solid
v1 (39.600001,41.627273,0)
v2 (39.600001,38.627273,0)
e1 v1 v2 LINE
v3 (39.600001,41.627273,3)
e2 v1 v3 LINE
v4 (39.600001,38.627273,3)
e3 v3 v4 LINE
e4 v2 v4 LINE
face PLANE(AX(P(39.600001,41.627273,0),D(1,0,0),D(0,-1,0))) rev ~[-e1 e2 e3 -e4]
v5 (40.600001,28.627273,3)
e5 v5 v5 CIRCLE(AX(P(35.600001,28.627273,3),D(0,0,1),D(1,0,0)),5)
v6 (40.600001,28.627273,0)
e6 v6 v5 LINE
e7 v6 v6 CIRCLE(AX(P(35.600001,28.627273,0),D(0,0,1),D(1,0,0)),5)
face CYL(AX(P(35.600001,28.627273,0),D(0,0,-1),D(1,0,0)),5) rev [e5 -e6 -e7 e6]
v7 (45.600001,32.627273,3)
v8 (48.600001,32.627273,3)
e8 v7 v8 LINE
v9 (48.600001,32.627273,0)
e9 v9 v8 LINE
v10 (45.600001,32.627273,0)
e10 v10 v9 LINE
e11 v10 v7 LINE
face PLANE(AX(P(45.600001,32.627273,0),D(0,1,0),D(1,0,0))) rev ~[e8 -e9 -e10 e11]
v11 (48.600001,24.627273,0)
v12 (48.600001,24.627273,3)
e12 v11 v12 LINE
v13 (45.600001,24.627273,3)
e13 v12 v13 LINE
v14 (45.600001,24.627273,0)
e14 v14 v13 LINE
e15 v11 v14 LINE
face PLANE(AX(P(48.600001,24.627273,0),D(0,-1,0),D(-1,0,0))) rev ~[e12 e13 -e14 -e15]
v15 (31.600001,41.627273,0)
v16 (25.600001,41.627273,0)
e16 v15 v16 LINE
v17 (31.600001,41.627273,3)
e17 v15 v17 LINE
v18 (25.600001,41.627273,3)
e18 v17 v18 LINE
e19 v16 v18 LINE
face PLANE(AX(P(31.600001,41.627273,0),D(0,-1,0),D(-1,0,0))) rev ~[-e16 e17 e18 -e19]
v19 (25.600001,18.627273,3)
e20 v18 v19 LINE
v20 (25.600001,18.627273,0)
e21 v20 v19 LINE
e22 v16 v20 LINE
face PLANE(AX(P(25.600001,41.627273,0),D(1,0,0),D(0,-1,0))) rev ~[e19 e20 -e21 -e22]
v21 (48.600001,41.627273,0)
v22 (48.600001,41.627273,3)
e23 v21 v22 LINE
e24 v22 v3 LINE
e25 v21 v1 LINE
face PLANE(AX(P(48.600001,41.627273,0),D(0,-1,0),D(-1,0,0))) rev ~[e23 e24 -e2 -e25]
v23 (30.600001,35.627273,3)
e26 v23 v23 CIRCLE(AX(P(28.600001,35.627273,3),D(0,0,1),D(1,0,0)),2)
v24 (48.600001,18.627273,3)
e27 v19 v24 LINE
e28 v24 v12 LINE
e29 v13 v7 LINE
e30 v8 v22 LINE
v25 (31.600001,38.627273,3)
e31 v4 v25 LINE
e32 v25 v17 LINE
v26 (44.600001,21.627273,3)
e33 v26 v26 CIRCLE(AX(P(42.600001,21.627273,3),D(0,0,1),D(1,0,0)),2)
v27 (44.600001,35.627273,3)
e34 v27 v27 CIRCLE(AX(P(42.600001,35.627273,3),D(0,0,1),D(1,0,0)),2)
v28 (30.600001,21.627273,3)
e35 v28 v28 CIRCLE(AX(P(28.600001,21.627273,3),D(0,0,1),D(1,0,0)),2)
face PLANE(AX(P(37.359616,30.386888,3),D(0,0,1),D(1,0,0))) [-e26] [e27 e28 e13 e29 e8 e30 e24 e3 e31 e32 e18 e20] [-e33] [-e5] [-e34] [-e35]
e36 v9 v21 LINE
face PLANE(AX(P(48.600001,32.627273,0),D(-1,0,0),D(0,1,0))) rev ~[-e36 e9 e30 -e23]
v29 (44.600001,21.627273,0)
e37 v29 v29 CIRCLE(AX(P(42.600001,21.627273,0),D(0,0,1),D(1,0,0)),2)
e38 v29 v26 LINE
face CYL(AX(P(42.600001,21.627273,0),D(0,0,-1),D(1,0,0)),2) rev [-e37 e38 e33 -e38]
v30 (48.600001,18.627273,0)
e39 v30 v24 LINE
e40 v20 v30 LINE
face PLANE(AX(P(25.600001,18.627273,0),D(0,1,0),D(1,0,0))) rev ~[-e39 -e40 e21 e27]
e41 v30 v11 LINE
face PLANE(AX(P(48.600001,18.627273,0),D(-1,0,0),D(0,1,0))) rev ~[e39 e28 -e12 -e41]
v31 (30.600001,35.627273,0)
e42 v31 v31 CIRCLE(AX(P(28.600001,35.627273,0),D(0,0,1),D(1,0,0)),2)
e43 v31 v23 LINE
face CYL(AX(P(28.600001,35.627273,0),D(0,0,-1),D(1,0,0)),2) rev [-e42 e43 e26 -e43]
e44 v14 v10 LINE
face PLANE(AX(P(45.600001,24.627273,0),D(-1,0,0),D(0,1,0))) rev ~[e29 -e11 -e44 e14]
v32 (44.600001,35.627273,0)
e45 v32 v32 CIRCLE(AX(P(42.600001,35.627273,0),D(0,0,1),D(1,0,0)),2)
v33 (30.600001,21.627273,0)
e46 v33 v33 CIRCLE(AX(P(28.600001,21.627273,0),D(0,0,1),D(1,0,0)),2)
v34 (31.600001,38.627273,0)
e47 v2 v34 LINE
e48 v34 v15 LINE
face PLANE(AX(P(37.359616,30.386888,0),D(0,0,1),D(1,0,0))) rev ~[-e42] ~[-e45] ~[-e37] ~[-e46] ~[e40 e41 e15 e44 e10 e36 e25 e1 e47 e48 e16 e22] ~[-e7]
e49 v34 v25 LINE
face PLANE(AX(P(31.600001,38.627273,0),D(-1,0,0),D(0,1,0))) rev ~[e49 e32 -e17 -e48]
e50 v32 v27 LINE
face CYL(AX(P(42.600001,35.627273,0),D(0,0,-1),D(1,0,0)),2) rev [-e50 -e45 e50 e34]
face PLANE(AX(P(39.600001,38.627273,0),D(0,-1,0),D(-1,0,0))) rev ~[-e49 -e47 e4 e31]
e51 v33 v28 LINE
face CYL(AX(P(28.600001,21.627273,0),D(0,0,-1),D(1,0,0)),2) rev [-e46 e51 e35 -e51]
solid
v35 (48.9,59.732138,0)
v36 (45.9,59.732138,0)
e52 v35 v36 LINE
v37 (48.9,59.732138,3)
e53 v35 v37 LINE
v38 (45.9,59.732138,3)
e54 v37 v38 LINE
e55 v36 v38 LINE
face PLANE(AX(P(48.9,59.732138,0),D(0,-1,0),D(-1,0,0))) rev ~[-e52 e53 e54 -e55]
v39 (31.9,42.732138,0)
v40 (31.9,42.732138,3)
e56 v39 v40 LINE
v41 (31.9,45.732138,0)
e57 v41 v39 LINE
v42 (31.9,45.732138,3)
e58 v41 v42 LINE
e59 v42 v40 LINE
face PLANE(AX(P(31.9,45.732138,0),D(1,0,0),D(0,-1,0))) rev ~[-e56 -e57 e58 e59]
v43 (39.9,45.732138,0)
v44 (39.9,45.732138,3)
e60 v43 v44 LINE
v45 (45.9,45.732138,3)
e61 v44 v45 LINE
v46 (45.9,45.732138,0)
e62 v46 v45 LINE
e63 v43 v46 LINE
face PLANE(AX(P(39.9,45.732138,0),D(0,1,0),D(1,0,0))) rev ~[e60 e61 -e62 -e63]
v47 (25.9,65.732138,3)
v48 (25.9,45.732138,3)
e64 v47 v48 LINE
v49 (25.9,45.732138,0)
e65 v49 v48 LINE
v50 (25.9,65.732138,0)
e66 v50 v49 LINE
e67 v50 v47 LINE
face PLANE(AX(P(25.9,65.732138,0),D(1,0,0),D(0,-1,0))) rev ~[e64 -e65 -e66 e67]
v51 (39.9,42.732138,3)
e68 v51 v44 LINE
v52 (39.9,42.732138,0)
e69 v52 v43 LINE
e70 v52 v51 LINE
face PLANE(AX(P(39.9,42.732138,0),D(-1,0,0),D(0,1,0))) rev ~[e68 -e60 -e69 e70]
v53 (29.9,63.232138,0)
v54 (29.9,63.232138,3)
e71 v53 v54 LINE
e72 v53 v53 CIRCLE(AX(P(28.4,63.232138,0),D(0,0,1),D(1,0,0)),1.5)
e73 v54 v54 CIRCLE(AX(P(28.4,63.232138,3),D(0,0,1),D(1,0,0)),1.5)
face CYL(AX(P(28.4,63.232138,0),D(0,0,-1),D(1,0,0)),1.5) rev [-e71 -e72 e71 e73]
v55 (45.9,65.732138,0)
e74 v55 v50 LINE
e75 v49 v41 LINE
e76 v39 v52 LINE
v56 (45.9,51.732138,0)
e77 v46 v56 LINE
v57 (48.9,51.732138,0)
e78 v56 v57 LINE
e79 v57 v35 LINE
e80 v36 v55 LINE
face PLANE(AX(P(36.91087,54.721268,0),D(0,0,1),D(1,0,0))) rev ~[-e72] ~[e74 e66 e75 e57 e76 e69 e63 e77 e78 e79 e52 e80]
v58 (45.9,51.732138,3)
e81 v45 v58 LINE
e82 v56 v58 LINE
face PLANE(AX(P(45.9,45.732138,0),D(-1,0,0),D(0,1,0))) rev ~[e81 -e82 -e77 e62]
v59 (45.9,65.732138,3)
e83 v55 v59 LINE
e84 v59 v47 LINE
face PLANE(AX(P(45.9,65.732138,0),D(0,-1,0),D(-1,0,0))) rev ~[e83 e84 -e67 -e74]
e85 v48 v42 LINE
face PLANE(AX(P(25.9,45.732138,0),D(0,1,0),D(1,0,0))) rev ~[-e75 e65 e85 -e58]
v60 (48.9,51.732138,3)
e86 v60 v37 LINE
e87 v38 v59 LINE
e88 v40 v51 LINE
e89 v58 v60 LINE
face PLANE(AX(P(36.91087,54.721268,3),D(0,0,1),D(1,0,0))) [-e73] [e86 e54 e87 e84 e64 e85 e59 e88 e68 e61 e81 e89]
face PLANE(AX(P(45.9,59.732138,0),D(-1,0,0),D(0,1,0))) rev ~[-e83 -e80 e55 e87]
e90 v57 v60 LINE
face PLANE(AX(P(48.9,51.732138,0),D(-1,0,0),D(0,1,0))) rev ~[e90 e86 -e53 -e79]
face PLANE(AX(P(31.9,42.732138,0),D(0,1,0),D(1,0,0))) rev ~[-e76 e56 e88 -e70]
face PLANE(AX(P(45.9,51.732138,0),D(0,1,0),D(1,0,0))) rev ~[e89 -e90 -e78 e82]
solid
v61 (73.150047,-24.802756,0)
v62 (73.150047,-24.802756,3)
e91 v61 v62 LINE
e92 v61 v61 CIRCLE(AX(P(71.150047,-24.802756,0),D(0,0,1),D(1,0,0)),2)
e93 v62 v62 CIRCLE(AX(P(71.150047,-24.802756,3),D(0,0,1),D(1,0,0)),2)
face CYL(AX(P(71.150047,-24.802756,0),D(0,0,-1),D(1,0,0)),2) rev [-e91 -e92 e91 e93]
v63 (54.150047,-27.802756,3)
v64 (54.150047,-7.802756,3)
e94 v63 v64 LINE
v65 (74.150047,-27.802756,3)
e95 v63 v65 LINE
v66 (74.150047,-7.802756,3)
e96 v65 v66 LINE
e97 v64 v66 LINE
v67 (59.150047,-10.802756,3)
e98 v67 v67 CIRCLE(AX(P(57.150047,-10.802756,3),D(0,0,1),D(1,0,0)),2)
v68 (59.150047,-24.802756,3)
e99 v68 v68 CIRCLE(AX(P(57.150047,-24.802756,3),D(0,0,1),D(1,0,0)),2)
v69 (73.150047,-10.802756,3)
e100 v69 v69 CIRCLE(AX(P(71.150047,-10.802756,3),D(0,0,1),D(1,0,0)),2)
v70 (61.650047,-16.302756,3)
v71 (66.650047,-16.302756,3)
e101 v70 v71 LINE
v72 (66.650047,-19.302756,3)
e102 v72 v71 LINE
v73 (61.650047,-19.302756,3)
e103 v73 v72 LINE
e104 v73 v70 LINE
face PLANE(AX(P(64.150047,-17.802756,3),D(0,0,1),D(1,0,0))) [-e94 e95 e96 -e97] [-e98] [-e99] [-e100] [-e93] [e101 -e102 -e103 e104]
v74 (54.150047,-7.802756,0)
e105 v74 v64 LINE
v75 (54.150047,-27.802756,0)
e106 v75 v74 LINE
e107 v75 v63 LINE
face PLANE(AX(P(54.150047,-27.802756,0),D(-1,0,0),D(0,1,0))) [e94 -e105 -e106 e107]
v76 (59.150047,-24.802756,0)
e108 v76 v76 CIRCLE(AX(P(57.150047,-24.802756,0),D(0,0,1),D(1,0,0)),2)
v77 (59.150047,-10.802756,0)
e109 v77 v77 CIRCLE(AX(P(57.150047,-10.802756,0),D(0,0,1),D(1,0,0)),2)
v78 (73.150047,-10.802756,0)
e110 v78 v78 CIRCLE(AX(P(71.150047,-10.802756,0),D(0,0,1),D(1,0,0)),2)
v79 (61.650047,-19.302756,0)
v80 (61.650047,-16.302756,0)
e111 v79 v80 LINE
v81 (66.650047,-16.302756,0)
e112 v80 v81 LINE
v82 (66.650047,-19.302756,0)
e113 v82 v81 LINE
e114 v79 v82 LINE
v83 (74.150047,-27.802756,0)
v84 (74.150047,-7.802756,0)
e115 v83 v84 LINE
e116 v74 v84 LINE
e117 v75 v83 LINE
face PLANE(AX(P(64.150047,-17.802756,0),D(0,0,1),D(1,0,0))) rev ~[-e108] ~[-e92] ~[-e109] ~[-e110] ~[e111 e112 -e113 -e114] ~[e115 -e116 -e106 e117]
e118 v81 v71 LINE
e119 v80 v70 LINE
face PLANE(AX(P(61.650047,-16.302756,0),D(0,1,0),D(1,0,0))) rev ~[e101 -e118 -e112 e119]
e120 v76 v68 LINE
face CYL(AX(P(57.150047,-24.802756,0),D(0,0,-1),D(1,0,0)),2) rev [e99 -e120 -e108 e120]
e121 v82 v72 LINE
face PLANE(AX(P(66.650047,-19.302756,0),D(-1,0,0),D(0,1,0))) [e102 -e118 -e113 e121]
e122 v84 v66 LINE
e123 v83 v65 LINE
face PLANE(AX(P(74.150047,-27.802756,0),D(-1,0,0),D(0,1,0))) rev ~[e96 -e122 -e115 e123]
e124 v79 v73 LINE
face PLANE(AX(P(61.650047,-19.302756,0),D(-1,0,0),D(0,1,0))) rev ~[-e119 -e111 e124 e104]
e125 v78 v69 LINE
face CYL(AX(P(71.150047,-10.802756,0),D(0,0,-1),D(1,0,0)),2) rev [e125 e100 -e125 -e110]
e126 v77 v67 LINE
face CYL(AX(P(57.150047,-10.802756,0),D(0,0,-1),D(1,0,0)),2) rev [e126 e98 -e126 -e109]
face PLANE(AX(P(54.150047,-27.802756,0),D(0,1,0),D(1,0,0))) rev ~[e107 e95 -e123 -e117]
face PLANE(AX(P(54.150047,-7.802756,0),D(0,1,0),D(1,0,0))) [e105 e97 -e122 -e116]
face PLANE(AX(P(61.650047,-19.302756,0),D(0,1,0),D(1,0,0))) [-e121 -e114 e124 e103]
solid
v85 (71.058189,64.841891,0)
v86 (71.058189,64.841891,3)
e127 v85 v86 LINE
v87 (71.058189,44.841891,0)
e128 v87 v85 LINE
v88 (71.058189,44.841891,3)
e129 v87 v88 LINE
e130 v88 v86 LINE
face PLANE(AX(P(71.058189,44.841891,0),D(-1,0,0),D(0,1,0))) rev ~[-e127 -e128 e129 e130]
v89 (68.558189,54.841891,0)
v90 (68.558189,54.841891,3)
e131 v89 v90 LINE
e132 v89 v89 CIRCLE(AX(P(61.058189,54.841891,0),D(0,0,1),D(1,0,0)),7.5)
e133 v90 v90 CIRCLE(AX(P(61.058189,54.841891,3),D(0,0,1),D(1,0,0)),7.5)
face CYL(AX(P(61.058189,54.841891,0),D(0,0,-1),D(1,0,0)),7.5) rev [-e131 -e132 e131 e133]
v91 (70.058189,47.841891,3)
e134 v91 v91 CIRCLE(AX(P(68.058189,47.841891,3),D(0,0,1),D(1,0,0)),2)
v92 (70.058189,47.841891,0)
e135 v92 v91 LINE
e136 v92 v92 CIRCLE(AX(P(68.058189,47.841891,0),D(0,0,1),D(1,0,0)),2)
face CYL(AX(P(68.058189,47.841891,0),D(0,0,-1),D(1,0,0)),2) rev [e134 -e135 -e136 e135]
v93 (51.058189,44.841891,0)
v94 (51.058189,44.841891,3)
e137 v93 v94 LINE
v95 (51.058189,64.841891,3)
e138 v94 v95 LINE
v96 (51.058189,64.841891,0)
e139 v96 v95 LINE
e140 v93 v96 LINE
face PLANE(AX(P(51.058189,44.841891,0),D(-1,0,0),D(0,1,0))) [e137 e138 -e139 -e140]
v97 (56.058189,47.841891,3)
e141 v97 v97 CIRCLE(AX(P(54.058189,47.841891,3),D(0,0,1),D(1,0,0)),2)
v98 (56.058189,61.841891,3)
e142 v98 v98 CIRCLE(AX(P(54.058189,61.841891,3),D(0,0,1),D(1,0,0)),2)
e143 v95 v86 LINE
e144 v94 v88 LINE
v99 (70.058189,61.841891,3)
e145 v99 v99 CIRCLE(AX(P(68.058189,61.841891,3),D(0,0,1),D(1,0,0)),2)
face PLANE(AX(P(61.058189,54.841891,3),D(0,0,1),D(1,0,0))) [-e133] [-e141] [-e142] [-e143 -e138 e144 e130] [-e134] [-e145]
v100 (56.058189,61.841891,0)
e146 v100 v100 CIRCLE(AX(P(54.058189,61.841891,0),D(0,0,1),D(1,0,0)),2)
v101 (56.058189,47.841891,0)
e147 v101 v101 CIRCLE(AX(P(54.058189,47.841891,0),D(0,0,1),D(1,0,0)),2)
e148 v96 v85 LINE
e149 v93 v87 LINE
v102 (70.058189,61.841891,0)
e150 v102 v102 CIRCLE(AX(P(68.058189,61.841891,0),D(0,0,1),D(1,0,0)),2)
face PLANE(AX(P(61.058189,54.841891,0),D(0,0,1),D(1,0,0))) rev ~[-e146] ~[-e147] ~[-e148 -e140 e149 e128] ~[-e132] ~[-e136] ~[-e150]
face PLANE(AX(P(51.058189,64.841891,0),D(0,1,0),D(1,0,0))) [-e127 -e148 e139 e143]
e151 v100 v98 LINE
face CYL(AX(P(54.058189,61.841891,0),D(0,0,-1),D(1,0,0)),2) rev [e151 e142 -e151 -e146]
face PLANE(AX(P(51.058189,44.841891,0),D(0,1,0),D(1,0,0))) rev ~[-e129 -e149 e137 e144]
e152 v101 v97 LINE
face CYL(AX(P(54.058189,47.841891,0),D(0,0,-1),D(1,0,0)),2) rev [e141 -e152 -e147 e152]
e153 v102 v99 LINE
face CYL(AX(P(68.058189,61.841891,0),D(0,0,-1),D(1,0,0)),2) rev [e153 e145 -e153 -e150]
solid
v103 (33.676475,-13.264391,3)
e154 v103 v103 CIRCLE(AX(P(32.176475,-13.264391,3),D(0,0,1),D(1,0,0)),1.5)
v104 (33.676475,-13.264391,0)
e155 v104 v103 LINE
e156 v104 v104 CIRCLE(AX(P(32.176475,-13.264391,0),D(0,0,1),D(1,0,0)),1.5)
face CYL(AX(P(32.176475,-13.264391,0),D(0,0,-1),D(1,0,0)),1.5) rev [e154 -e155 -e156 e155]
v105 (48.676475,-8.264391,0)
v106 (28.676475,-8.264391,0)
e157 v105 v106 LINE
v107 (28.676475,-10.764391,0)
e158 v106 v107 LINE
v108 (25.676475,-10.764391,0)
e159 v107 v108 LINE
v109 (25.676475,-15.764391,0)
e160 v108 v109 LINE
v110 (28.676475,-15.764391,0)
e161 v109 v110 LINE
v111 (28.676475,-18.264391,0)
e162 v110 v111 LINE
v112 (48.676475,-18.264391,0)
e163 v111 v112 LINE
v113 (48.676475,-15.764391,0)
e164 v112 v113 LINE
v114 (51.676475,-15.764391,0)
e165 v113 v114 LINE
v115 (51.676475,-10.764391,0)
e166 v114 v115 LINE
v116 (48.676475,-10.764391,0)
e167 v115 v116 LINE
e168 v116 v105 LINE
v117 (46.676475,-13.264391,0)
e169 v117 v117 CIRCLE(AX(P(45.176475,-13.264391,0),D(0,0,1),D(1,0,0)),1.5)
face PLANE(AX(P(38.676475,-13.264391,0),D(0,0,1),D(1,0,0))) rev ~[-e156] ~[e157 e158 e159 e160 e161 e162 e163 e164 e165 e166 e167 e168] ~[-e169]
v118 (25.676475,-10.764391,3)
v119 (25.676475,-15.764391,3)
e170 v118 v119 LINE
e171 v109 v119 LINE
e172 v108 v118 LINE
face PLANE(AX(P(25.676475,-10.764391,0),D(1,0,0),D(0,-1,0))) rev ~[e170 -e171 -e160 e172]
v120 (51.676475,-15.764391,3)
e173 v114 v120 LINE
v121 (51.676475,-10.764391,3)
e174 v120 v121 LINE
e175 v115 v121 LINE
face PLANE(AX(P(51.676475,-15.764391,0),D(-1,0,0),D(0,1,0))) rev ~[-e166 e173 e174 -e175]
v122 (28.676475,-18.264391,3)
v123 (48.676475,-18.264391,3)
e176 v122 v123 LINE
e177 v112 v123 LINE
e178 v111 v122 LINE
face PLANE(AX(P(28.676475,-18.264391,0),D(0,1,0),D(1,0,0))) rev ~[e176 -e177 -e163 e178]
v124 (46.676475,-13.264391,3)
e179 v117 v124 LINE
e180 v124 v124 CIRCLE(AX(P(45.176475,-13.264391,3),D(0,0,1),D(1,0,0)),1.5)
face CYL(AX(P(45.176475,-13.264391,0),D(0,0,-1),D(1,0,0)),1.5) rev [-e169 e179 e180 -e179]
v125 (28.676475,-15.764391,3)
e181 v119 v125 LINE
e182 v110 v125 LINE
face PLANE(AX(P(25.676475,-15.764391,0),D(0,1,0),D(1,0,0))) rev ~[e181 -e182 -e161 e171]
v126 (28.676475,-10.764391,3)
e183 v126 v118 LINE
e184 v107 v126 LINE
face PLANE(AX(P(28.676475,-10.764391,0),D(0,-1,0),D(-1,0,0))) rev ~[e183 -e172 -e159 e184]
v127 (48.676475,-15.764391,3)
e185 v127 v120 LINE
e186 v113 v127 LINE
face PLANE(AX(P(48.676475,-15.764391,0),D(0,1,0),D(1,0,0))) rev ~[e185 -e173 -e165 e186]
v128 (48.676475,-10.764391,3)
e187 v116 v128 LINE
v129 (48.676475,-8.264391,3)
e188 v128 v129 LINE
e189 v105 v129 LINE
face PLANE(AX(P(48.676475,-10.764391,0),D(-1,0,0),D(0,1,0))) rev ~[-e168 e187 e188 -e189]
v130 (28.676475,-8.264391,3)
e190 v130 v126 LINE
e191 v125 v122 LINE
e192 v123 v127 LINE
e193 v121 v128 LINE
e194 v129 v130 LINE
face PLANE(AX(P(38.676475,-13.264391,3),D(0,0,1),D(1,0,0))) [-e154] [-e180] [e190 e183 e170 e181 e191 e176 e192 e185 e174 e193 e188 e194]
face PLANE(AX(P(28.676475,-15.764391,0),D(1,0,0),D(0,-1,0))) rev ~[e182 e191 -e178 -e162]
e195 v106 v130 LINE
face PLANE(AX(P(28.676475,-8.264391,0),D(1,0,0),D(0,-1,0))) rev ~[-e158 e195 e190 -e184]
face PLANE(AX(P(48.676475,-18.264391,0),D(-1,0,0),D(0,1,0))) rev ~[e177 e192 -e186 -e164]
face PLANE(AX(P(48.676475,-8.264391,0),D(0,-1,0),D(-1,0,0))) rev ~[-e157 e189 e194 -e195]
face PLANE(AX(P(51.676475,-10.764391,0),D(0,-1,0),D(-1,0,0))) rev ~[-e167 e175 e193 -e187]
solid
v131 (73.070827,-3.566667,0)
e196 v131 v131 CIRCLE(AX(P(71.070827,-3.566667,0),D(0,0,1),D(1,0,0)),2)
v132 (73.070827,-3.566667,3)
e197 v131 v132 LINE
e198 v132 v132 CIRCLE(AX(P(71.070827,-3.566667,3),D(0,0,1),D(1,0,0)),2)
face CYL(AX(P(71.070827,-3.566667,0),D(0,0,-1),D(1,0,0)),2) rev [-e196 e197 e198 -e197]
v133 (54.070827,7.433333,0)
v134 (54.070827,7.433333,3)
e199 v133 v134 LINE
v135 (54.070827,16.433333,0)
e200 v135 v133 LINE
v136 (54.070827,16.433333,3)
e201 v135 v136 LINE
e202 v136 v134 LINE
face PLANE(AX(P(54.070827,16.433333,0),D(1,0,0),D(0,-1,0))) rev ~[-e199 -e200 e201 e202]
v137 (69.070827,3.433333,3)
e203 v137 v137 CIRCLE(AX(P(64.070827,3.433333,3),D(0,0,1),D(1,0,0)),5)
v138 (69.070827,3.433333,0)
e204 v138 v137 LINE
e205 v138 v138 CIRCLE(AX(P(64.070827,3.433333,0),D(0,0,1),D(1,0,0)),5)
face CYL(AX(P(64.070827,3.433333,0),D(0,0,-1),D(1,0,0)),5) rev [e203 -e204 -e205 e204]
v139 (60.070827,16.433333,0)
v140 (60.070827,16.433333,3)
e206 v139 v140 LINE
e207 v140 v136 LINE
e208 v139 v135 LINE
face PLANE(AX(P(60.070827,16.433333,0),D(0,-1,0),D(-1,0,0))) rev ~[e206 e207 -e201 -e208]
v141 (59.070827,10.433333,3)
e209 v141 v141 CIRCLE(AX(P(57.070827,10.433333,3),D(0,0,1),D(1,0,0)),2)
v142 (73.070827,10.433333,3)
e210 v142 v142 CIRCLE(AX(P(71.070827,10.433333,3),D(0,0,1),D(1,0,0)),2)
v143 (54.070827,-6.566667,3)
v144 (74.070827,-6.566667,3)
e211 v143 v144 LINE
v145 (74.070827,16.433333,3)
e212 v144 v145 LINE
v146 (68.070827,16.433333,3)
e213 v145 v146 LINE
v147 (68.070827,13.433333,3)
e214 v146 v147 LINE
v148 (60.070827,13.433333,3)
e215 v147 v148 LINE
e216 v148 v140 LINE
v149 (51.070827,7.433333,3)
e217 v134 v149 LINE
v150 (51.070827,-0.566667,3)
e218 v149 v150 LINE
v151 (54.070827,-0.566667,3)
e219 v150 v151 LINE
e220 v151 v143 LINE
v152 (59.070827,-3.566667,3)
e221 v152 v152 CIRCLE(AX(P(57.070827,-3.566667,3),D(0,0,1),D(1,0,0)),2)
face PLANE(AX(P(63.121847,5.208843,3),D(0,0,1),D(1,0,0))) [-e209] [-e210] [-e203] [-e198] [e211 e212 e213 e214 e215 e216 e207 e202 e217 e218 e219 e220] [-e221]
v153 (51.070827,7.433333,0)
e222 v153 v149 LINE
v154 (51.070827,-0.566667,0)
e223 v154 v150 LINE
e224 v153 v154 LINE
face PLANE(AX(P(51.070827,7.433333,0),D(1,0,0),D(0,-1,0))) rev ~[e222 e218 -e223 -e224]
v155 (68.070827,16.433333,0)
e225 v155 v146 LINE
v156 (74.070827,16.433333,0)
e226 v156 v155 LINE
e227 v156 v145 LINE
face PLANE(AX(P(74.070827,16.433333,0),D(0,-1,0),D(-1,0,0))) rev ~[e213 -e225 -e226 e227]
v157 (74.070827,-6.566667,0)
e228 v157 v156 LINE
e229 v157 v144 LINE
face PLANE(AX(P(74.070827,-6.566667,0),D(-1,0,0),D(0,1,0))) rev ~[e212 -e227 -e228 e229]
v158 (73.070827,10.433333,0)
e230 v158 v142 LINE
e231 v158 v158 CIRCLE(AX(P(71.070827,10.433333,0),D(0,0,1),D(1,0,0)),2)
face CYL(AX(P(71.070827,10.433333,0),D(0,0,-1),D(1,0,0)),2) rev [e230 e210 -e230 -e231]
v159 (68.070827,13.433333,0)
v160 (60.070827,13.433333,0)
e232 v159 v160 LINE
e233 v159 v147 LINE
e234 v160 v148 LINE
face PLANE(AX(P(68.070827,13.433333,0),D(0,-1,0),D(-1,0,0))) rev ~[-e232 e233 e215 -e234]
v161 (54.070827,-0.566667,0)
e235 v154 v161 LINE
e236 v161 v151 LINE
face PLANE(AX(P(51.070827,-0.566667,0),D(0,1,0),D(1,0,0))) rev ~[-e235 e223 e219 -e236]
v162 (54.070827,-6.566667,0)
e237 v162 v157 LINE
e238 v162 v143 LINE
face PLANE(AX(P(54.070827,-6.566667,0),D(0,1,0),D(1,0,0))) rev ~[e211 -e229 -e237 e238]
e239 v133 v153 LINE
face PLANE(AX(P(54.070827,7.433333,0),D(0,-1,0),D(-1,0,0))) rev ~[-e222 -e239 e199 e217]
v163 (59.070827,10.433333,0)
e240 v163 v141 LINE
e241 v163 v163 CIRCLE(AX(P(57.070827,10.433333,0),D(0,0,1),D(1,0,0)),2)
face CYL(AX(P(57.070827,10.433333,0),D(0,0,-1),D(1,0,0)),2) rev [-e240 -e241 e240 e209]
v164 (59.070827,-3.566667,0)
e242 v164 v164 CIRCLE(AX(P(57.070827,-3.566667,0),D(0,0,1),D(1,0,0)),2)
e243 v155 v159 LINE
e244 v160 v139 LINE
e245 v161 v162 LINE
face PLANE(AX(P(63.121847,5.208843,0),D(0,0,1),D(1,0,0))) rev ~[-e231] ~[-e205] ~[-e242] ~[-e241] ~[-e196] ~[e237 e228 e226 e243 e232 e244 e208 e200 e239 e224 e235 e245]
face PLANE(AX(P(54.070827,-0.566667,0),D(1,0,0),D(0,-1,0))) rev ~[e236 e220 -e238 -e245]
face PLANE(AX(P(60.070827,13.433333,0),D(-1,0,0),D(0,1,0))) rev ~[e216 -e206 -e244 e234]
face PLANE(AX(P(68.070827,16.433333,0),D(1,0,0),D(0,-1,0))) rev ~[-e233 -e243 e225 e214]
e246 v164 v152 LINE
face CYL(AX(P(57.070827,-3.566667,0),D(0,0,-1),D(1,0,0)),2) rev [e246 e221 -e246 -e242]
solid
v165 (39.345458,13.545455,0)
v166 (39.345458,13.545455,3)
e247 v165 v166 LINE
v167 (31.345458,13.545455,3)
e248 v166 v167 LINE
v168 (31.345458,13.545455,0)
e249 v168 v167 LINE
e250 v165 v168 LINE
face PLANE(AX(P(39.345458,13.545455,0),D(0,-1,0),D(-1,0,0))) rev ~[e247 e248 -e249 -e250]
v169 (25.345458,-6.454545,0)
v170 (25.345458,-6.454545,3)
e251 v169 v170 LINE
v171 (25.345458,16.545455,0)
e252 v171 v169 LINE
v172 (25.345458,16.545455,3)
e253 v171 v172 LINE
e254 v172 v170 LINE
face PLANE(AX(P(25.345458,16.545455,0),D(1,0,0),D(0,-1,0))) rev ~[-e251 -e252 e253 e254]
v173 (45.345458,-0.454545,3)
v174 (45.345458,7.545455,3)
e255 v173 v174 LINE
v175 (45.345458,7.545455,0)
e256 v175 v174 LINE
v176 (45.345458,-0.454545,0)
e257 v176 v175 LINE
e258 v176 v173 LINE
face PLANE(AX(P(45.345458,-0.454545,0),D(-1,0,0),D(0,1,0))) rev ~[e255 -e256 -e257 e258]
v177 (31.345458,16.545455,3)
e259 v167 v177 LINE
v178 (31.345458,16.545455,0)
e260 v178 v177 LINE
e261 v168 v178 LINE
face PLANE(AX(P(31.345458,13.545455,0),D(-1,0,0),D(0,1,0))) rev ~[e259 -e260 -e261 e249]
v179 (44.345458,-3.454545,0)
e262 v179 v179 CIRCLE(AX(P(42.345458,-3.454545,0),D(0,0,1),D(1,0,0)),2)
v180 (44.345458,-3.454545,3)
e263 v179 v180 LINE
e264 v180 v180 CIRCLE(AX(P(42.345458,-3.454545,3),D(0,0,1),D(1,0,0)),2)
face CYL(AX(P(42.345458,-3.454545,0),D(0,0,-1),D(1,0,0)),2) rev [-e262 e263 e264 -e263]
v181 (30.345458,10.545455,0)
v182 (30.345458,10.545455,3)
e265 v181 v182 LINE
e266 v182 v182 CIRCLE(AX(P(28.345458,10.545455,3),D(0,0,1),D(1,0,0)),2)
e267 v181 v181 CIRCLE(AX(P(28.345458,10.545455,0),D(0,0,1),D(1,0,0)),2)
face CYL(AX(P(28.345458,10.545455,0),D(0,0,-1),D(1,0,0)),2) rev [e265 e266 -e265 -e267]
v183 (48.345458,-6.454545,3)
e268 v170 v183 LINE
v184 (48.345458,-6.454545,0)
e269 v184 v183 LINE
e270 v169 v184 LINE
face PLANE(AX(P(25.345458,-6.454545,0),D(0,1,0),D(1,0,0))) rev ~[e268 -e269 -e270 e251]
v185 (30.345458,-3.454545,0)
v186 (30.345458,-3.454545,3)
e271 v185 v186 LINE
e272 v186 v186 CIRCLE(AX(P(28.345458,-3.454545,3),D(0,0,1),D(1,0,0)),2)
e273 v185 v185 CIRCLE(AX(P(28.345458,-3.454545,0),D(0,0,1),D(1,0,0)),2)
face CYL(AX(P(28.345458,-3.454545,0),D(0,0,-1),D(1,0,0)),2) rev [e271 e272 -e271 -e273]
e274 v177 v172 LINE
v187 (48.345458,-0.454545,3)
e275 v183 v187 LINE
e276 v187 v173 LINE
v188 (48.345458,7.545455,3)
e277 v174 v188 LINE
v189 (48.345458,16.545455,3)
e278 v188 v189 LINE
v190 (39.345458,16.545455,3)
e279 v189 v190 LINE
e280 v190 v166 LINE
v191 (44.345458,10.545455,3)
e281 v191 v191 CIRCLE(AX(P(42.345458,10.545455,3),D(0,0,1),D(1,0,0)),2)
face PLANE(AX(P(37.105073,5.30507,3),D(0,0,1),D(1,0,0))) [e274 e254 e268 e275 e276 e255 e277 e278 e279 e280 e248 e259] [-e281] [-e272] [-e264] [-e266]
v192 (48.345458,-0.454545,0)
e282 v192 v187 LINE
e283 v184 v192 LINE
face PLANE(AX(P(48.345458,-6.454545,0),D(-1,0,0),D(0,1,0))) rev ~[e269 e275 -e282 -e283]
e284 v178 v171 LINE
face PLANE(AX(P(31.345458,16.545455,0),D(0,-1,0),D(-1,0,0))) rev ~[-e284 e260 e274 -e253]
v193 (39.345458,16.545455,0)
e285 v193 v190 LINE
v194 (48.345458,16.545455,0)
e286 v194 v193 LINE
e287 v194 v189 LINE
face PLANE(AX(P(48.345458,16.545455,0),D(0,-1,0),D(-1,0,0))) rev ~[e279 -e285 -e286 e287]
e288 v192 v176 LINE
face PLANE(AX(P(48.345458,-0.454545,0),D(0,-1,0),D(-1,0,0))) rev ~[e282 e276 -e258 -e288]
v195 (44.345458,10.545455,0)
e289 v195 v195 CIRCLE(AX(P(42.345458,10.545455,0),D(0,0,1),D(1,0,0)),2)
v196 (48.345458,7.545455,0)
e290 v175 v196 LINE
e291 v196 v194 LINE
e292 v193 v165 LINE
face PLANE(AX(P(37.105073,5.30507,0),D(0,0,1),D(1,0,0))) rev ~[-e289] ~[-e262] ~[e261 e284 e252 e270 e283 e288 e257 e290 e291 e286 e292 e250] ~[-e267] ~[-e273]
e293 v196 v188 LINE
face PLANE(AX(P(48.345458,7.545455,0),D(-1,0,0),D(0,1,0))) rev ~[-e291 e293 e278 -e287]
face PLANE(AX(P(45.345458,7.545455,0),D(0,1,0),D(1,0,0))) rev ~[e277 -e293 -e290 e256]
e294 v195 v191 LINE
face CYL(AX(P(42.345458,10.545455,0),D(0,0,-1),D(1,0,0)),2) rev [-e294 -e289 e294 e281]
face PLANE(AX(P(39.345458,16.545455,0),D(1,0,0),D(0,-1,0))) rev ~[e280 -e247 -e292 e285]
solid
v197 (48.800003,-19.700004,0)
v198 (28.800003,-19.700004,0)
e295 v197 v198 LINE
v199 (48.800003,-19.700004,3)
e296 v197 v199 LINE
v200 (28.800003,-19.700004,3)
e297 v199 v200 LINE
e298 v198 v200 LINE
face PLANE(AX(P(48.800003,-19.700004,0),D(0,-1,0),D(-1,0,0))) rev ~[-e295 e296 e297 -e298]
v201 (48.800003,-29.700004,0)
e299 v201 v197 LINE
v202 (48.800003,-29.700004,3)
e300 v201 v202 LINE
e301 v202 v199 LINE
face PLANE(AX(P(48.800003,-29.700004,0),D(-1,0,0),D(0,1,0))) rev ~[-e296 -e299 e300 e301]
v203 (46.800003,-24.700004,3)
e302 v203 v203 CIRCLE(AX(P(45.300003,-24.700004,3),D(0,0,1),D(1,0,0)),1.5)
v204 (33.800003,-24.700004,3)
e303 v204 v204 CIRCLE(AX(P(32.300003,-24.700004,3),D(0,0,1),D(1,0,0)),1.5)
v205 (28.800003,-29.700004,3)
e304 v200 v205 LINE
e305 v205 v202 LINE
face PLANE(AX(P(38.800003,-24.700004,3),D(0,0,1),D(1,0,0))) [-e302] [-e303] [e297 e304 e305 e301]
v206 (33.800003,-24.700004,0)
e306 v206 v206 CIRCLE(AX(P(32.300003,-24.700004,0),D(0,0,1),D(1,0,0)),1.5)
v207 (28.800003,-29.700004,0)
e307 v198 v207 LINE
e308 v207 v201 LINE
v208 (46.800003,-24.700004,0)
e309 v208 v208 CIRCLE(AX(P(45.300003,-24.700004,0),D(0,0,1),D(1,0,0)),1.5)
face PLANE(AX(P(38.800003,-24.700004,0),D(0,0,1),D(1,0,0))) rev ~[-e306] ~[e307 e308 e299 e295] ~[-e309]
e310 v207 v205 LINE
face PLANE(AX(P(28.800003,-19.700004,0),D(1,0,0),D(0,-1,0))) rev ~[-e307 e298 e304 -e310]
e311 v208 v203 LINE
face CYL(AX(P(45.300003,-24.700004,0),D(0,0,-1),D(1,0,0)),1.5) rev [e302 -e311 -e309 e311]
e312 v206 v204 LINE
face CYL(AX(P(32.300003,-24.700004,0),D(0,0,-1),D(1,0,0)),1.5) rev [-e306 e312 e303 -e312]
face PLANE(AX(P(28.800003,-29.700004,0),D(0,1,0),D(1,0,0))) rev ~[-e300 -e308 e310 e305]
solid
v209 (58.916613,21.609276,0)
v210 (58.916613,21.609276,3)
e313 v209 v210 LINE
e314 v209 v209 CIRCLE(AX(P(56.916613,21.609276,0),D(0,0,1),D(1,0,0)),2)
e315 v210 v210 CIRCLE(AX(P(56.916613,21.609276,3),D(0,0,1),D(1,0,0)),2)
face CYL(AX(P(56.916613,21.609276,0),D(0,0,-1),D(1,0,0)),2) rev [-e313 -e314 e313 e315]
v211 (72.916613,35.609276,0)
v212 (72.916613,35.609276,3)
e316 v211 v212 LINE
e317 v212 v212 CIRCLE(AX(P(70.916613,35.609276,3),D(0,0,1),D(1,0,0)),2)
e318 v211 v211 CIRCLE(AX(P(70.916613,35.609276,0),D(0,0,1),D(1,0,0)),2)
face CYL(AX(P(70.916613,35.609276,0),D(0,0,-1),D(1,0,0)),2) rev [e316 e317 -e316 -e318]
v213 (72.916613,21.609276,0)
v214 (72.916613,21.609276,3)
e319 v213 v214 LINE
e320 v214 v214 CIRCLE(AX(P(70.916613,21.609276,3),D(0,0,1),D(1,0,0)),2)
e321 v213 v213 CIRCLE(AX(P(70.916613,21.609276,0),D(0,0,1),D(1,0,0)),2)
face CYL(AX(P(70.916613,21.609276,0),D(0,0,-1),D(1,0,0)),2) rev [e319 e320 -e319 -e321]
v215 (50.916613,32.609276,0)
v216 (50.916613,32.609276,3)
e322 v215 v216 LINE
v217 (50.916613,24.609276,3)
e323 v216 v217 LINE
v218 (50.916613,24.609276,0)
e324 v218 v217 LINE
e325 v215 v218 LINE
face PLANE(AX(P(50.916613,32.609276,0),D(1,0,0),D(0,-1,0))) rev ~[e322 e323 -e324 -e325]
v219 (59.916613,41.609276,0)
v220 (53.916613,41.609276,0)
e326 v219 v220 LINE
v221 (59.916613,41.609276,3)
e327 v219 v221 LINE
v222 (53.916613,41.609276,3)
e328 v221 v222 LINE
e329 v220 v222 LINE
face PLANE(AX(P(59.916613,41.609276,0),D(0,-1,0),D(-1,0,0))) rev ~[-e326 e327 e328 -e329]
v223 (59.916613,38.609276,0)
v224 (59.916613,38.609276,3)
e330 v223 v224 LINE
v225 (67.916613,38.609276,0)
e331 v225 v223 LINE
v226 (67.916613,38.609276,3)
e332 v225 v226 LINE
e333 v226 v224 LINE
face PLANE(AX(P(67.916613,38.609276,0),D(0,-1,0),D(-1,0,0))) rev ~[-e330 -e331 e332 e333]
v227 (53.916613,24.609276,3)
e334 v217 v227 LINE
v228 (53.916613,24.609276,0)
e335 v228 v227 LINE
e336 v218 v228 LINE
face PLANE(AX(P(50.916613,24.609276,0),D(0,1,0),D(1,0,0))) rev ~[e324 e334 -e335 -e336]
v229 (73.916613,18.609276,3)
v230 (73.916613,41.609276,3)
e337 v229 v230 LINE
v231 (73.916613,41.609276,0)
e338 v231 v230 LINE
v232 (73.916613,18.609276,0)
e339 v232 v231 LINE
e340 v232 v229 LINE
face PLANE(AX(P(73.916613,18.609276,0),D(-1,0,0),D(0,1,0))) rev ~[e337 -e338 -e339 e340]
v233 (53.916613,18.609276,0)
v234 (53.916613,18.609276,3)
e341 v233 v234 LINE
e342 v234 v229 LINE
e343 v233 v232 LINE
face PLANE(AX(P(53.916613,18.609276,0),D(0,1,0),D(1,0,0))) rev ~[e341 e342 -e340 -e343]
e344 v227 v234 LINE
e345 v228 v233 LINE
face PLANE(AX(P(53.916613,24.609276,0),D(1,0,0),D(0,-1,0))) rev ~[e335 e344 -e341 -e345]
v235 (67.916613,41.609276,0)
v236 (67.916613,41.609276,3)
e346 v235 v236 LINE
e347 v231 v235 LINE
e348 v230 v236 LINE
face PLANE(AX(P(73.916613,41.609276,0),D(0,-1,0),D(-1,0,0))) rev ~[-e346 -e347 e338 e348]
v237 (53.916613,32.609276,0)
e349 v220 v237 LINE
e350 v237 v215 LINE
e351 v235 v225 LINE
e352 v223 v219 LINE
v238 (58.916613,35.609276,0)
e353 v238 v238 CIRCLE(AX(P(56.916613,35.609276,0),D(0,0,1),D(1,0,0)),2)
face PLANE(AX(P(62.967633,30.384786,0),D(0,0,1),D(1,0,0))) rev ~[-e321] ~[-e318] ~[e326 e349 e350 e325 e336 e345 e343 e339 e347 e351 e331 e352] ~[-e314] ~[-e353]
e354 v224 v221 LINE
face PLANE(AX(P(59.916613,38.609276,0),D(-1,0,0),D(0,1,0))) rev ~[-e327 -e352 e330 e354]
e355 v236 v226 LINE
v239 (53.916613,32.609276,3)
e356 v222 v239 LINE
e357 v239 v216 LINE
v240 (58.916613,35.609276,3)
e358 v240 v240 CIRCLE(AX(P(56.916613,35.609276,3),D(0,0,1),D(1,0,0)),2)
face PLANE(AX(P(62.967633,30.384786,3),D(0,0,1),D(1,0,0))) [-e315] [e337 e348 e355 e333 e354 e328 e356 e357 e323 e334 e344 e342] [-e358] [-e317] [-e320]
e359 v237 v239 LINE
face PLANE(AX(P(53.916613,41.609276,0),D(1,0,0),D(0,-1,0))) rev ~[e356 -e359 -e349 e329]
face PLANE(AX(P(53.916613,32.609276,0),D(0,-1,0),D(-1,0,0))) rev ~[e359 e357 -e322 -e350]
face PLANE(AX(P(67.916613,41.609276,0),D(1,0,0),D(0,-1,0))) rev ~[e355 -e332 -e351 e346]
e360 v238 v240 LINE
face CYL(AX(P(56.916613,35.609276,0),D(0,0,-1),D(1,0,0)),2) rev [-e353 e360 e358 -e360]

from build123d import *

# Parameters (mm, degrees)
F0_W      = 20
F0_H      = 20
F0_R      = 2
F0_R_2    = 7.5
F1_DEPTH  = 3
F2_R      = 2
F2_R_2    = 5
F3_DEPTH  = 3
F4_R      = 1.5
F5_DEPTH  = 3
F6_R      = 2
F7_DEPTH  = 3
F8_R      = 2
F8_R_2    = 5
F9_DEPTH  = 3
F10_R     = 2
F11_DEPTH = 3
F12_W     = 20
F12_H     = 20
F12_R     = 2
F12_W_2   = 5
F12_H_2   = 3
F13_DEPTH = 3
F14_R     = 1.5
F15_DEPTH = 3
F16_R     = 1.5
F17_DEPTH = 3


with BuildPart() as f1:
    # F0 (on Top) → F1 (new body)
    with BuildSketch(Plane.XY):
        with Locations((61.058189, 54.841891)):
            Rectangle(F0_W, F0_H)
        with Locations((54.058189, 47.841891)):
            Circle(F0_R, mode=Mode.SUBTRACT)
        with Locations((68.058189, 47.841891)):
            Circle(F0_R, mode=Mode.SUBTRACT)
        with Locations((54.058189, 61.841891)):
            Circle(F0_R, mode=Mode.SUBTRACT)
        with Locations((61.058189, 54.841891)):
            Circle(F0_R_2, mode=Mode.SUBTRACT)
        with Locations((68.058189, 61.841891)):
            Circle(F0_R, mode=Mode.SUBTRACT)
    extrude(amount=F1_DEPTH)


with BuildPart() as f3:
    # F2 (on Top) → F3 (new body)
    with BuildSketch(Plane.XY):
        Polygon((25.600001, 18.627273), (45.600001, 18.627273), (48.600001, 18.627273), (48.600001, 24.627273), (45.600001, 24.627273), (45.600001, 32.627273), (48.600001, 32.627273), (48.600001, 38.627273), (48.600001, 41.627273), (39.600001, 41.627273), (39.600001, 38.627273), (31.600001, 38.627273), (31.600001, 41.627273), (25.600001, 41.627273), (25.600001, 38.627273), align=None)
        with Locations((28.600001, 21.627273)):
            Circle(F2_R, mode=Mode.SUBTRACT)
        with Locations((35.600001, 28.627273)):
            Circle(F2_R_2, mode=Mode.SUBTRACT)
        with Locations((42.600001, 21.627273)):
            Circle(F2_R, mode=Mode.SUBTRACT)
        with Locations((28.600001, 35.627273)):
            Circle(F2_R, mode=Mode.SUBTRACT)
        with Locations((42.600001, 35.627273)):
            Circle(F2_R, mode=Mode.SUBTRACT)
    extrude(amount=F3_DEPTH)


with BuildPart() as f5:
    # F4 (on Top) → F5 (new body)
    with BuildSketch(Plane.XY):
        Polygon((45.9, 65.732138), (25.9, 65.732138), (25.9, 45.732138), (31.9, 45.732138), (31.9, 42.732138), (39.9, 42.732138), (39.9, 45.732138), (45.9, 45.732138), (45.9, 51.732138), (48.9, 51.732138), (48.9, 59.732138), (45.9, 59.732138), align=None)
        with Locations((28.4, 63.232138)):
            Circle(F4_R, mode=Mode.SUBTRACT)
    extrude(amount=F5_DEPTH)


with BuildPart() as f7:
    # F6 (on Top) → F7 (new body)
    with BuildSketch(Plane.XY):
        Polygon((53.916613, 18.609276), (73.916613, 18.609276), (73.916613, 38.609276), (73.916613, 41.609276), (67.916613, 41.609276), (67.916613, 38.609276), (59.916613, 38.609276), (59.916613, 41.609276), (53.916613, 41.609276), (53.916613, 38.609276), (53.916613, 32.609276), (50.916613, 32.609276), (50.916613, 24.609276), (53.916613, 24.609276), align=None)
        with Locations((56.916613, 21.609276)):
            Circle(F6_R, mode=Mode.SUBTRACT)
        with Locations((70.916613, 21.609276)):
            Circle(F6_R, mode=Mode.SUBTRACT)
        with Locations((56.916613, 35.609276)):
            Circle(F6_R, mode=Mode.SUBTRACT)
        with Locations((70.916613, 35.609276)):
            Circle(F6_R, mode=Mode.SUBTRACT)
    extrude(amount=F7_DEPTH)


with BuildPart() as f9:
    # F8 (on Top) → F9 (new body)
    with BuildSketch(Plane.XY):
        Polygon((54.070827, -6.566667), (74.070827, -6.566667), (74.070827, 13.433333), (74.070827, 16.433333), (68.070827, 16.433333), (68.070827, 13.433333), (60.070827, 13.433333), (60.070827, 16.433333), (54.070827, 16.433333), (54.070827, 13.433333), (54.070827, 7.433333), (51.070827, 7.433333), (51.070827, -0.566667), (54.070827, -0.566667), align=None)
        with Locations((57.070827, -3.566667)):
            Circle(F8_R, mode=Mode.SUBTRACT)
        with Locations((71.070827, -3.566667)):
            Circle(F8_R, mode=Mode.SUBTRACT)
        with Locations((64.070827, 3.433333)):
            Circle(F8_R_2, mode=Mode.SUBTRACT)
        with Locations((57.070827, 10.433333)):
            Circle(F8_R, mode=Mode.SUBTRACT)
        with Locations((71.070827, 10.433333)):
            Circle(F8_R, mode=Mode.SUBTRACT)
    extrude(amount=F9_DEPTH)


with BuildPart() as f11:
    # F10 (on Top) → F11 (new body)
    with BuildSketch(Plane.XY):
        Polygon((25.345458, -6.454545), (45.345458, -6.454545), (48.345458, -6.454545), (48.345458, -0.454545), (45.345458, -0.454545), (45.345458, 7.545455), (48.345458, 7.545455), (48.345458, 13.545455), (48.345458, 16.545455), (39.345458, 16.545455), (39.345458, 13.545455), (31.345458, 13.545455), (31.345458, 16.545455), (25.345458, 16.545455), (25.345458, 13.545455), align=None)
        with Locations((28.345458, -3.454545)):
            Circle(F10_R, mode=Mode.SUBTRACT)
        with Locations((42.345458, -3.454545)):
            Circle(F10_R, mode=Mode.SUBTRACT)
        with Locations((28.345458, 10.545455)):
            Circle(F10_R, mode=Mode.SUBTRACT)
        with Locations((42.345458, 10.545455)):
            Circle(F10_R, mode=Mode.SUBTRACT)
    extrude(amount=F11_DEPTH)


with BuildPart() as f13:
    # F12 (on Top) → F13 (new body)
    with BuildSketch(Plane.XY):
        with Locations((64.150047, -17.802756)):
            Rectangle(F12_W, F12_H)
        with Locations((57.150047, -24.802756)):
            Circle(F12_R, mode=Mode.SUBTRACT)
        with Locations((71.150047, -24.802756)):
            Circle(F12_R, mode=Mode.SUBTRACT)
        with Locations((57.150047, -10.802756)):
            Circle(F12_R, mode=Mode.SUBTRACT)
        with Locations((64.150047, -17.802756)):
            Rectangle(F12_W_2, F12_H_2, mode=Mode.SUBTRACT)
        with Locations((71.150047, -10.802756)):
            Circle(F12_R, mode=Mode.SUBTRACT)
    extrude(amount=F13_DEPTH)


with BuildPart() as f15:
    # F14 (on Top) → F15 (new body)
    with BuildSketch(Plane.XY):
        Polygon((48.676475, -8.264391), (28.676475, -8.264391), (28.676475, -10.764391), (25.676475, -10.764391), (25.676475, -15.764391), (28.676475, -15.764391), (28.676475, -18.264391), (48.676475, -18.264391), (48.676475, -15.764391), (51.676475, -15.764391), (51.676475, -10.764391), (48.676475, -10.764391), align=None)
        with Locations((32.176475, -13.264391)):
            Circle(F14_R, mode=Mode.SUBTRACT)
        with Locations((45.176475, -13.264391)):
            Circle(F14_R, mode=Mode.SUBTRACT)
    extrude(amount=F15_DEPTH)


with BuildPart() as f17:
    # F16 (on Top) → F17 (new body)
    with BuildSketch(Plane.XY):
        Polygon((48.800003, -19.700004), (28.800003, -19.700004), (28.800003, -22.200004), (28.800003, -27.200004), (28.800003, -29.700004), (48.800003, -29.700004), (48.800003, -27.200004), (48.800003, -22.200004), align=None)
        with Locations((32.300003, -24.700004)):
            Circle(F16_R, mode=Mode.SUBTRACT)
        with Locations((45.300003, -24.700004)):
            Circle(F16_R, mode=Mode.SUBTRACT)
    extrude(amount=F17_DEPTH)


solid = Compound([f1.part, f3.part, f5.part, f7.part, f9.part, f11.part, f13.part, f15.part, f17.part])
